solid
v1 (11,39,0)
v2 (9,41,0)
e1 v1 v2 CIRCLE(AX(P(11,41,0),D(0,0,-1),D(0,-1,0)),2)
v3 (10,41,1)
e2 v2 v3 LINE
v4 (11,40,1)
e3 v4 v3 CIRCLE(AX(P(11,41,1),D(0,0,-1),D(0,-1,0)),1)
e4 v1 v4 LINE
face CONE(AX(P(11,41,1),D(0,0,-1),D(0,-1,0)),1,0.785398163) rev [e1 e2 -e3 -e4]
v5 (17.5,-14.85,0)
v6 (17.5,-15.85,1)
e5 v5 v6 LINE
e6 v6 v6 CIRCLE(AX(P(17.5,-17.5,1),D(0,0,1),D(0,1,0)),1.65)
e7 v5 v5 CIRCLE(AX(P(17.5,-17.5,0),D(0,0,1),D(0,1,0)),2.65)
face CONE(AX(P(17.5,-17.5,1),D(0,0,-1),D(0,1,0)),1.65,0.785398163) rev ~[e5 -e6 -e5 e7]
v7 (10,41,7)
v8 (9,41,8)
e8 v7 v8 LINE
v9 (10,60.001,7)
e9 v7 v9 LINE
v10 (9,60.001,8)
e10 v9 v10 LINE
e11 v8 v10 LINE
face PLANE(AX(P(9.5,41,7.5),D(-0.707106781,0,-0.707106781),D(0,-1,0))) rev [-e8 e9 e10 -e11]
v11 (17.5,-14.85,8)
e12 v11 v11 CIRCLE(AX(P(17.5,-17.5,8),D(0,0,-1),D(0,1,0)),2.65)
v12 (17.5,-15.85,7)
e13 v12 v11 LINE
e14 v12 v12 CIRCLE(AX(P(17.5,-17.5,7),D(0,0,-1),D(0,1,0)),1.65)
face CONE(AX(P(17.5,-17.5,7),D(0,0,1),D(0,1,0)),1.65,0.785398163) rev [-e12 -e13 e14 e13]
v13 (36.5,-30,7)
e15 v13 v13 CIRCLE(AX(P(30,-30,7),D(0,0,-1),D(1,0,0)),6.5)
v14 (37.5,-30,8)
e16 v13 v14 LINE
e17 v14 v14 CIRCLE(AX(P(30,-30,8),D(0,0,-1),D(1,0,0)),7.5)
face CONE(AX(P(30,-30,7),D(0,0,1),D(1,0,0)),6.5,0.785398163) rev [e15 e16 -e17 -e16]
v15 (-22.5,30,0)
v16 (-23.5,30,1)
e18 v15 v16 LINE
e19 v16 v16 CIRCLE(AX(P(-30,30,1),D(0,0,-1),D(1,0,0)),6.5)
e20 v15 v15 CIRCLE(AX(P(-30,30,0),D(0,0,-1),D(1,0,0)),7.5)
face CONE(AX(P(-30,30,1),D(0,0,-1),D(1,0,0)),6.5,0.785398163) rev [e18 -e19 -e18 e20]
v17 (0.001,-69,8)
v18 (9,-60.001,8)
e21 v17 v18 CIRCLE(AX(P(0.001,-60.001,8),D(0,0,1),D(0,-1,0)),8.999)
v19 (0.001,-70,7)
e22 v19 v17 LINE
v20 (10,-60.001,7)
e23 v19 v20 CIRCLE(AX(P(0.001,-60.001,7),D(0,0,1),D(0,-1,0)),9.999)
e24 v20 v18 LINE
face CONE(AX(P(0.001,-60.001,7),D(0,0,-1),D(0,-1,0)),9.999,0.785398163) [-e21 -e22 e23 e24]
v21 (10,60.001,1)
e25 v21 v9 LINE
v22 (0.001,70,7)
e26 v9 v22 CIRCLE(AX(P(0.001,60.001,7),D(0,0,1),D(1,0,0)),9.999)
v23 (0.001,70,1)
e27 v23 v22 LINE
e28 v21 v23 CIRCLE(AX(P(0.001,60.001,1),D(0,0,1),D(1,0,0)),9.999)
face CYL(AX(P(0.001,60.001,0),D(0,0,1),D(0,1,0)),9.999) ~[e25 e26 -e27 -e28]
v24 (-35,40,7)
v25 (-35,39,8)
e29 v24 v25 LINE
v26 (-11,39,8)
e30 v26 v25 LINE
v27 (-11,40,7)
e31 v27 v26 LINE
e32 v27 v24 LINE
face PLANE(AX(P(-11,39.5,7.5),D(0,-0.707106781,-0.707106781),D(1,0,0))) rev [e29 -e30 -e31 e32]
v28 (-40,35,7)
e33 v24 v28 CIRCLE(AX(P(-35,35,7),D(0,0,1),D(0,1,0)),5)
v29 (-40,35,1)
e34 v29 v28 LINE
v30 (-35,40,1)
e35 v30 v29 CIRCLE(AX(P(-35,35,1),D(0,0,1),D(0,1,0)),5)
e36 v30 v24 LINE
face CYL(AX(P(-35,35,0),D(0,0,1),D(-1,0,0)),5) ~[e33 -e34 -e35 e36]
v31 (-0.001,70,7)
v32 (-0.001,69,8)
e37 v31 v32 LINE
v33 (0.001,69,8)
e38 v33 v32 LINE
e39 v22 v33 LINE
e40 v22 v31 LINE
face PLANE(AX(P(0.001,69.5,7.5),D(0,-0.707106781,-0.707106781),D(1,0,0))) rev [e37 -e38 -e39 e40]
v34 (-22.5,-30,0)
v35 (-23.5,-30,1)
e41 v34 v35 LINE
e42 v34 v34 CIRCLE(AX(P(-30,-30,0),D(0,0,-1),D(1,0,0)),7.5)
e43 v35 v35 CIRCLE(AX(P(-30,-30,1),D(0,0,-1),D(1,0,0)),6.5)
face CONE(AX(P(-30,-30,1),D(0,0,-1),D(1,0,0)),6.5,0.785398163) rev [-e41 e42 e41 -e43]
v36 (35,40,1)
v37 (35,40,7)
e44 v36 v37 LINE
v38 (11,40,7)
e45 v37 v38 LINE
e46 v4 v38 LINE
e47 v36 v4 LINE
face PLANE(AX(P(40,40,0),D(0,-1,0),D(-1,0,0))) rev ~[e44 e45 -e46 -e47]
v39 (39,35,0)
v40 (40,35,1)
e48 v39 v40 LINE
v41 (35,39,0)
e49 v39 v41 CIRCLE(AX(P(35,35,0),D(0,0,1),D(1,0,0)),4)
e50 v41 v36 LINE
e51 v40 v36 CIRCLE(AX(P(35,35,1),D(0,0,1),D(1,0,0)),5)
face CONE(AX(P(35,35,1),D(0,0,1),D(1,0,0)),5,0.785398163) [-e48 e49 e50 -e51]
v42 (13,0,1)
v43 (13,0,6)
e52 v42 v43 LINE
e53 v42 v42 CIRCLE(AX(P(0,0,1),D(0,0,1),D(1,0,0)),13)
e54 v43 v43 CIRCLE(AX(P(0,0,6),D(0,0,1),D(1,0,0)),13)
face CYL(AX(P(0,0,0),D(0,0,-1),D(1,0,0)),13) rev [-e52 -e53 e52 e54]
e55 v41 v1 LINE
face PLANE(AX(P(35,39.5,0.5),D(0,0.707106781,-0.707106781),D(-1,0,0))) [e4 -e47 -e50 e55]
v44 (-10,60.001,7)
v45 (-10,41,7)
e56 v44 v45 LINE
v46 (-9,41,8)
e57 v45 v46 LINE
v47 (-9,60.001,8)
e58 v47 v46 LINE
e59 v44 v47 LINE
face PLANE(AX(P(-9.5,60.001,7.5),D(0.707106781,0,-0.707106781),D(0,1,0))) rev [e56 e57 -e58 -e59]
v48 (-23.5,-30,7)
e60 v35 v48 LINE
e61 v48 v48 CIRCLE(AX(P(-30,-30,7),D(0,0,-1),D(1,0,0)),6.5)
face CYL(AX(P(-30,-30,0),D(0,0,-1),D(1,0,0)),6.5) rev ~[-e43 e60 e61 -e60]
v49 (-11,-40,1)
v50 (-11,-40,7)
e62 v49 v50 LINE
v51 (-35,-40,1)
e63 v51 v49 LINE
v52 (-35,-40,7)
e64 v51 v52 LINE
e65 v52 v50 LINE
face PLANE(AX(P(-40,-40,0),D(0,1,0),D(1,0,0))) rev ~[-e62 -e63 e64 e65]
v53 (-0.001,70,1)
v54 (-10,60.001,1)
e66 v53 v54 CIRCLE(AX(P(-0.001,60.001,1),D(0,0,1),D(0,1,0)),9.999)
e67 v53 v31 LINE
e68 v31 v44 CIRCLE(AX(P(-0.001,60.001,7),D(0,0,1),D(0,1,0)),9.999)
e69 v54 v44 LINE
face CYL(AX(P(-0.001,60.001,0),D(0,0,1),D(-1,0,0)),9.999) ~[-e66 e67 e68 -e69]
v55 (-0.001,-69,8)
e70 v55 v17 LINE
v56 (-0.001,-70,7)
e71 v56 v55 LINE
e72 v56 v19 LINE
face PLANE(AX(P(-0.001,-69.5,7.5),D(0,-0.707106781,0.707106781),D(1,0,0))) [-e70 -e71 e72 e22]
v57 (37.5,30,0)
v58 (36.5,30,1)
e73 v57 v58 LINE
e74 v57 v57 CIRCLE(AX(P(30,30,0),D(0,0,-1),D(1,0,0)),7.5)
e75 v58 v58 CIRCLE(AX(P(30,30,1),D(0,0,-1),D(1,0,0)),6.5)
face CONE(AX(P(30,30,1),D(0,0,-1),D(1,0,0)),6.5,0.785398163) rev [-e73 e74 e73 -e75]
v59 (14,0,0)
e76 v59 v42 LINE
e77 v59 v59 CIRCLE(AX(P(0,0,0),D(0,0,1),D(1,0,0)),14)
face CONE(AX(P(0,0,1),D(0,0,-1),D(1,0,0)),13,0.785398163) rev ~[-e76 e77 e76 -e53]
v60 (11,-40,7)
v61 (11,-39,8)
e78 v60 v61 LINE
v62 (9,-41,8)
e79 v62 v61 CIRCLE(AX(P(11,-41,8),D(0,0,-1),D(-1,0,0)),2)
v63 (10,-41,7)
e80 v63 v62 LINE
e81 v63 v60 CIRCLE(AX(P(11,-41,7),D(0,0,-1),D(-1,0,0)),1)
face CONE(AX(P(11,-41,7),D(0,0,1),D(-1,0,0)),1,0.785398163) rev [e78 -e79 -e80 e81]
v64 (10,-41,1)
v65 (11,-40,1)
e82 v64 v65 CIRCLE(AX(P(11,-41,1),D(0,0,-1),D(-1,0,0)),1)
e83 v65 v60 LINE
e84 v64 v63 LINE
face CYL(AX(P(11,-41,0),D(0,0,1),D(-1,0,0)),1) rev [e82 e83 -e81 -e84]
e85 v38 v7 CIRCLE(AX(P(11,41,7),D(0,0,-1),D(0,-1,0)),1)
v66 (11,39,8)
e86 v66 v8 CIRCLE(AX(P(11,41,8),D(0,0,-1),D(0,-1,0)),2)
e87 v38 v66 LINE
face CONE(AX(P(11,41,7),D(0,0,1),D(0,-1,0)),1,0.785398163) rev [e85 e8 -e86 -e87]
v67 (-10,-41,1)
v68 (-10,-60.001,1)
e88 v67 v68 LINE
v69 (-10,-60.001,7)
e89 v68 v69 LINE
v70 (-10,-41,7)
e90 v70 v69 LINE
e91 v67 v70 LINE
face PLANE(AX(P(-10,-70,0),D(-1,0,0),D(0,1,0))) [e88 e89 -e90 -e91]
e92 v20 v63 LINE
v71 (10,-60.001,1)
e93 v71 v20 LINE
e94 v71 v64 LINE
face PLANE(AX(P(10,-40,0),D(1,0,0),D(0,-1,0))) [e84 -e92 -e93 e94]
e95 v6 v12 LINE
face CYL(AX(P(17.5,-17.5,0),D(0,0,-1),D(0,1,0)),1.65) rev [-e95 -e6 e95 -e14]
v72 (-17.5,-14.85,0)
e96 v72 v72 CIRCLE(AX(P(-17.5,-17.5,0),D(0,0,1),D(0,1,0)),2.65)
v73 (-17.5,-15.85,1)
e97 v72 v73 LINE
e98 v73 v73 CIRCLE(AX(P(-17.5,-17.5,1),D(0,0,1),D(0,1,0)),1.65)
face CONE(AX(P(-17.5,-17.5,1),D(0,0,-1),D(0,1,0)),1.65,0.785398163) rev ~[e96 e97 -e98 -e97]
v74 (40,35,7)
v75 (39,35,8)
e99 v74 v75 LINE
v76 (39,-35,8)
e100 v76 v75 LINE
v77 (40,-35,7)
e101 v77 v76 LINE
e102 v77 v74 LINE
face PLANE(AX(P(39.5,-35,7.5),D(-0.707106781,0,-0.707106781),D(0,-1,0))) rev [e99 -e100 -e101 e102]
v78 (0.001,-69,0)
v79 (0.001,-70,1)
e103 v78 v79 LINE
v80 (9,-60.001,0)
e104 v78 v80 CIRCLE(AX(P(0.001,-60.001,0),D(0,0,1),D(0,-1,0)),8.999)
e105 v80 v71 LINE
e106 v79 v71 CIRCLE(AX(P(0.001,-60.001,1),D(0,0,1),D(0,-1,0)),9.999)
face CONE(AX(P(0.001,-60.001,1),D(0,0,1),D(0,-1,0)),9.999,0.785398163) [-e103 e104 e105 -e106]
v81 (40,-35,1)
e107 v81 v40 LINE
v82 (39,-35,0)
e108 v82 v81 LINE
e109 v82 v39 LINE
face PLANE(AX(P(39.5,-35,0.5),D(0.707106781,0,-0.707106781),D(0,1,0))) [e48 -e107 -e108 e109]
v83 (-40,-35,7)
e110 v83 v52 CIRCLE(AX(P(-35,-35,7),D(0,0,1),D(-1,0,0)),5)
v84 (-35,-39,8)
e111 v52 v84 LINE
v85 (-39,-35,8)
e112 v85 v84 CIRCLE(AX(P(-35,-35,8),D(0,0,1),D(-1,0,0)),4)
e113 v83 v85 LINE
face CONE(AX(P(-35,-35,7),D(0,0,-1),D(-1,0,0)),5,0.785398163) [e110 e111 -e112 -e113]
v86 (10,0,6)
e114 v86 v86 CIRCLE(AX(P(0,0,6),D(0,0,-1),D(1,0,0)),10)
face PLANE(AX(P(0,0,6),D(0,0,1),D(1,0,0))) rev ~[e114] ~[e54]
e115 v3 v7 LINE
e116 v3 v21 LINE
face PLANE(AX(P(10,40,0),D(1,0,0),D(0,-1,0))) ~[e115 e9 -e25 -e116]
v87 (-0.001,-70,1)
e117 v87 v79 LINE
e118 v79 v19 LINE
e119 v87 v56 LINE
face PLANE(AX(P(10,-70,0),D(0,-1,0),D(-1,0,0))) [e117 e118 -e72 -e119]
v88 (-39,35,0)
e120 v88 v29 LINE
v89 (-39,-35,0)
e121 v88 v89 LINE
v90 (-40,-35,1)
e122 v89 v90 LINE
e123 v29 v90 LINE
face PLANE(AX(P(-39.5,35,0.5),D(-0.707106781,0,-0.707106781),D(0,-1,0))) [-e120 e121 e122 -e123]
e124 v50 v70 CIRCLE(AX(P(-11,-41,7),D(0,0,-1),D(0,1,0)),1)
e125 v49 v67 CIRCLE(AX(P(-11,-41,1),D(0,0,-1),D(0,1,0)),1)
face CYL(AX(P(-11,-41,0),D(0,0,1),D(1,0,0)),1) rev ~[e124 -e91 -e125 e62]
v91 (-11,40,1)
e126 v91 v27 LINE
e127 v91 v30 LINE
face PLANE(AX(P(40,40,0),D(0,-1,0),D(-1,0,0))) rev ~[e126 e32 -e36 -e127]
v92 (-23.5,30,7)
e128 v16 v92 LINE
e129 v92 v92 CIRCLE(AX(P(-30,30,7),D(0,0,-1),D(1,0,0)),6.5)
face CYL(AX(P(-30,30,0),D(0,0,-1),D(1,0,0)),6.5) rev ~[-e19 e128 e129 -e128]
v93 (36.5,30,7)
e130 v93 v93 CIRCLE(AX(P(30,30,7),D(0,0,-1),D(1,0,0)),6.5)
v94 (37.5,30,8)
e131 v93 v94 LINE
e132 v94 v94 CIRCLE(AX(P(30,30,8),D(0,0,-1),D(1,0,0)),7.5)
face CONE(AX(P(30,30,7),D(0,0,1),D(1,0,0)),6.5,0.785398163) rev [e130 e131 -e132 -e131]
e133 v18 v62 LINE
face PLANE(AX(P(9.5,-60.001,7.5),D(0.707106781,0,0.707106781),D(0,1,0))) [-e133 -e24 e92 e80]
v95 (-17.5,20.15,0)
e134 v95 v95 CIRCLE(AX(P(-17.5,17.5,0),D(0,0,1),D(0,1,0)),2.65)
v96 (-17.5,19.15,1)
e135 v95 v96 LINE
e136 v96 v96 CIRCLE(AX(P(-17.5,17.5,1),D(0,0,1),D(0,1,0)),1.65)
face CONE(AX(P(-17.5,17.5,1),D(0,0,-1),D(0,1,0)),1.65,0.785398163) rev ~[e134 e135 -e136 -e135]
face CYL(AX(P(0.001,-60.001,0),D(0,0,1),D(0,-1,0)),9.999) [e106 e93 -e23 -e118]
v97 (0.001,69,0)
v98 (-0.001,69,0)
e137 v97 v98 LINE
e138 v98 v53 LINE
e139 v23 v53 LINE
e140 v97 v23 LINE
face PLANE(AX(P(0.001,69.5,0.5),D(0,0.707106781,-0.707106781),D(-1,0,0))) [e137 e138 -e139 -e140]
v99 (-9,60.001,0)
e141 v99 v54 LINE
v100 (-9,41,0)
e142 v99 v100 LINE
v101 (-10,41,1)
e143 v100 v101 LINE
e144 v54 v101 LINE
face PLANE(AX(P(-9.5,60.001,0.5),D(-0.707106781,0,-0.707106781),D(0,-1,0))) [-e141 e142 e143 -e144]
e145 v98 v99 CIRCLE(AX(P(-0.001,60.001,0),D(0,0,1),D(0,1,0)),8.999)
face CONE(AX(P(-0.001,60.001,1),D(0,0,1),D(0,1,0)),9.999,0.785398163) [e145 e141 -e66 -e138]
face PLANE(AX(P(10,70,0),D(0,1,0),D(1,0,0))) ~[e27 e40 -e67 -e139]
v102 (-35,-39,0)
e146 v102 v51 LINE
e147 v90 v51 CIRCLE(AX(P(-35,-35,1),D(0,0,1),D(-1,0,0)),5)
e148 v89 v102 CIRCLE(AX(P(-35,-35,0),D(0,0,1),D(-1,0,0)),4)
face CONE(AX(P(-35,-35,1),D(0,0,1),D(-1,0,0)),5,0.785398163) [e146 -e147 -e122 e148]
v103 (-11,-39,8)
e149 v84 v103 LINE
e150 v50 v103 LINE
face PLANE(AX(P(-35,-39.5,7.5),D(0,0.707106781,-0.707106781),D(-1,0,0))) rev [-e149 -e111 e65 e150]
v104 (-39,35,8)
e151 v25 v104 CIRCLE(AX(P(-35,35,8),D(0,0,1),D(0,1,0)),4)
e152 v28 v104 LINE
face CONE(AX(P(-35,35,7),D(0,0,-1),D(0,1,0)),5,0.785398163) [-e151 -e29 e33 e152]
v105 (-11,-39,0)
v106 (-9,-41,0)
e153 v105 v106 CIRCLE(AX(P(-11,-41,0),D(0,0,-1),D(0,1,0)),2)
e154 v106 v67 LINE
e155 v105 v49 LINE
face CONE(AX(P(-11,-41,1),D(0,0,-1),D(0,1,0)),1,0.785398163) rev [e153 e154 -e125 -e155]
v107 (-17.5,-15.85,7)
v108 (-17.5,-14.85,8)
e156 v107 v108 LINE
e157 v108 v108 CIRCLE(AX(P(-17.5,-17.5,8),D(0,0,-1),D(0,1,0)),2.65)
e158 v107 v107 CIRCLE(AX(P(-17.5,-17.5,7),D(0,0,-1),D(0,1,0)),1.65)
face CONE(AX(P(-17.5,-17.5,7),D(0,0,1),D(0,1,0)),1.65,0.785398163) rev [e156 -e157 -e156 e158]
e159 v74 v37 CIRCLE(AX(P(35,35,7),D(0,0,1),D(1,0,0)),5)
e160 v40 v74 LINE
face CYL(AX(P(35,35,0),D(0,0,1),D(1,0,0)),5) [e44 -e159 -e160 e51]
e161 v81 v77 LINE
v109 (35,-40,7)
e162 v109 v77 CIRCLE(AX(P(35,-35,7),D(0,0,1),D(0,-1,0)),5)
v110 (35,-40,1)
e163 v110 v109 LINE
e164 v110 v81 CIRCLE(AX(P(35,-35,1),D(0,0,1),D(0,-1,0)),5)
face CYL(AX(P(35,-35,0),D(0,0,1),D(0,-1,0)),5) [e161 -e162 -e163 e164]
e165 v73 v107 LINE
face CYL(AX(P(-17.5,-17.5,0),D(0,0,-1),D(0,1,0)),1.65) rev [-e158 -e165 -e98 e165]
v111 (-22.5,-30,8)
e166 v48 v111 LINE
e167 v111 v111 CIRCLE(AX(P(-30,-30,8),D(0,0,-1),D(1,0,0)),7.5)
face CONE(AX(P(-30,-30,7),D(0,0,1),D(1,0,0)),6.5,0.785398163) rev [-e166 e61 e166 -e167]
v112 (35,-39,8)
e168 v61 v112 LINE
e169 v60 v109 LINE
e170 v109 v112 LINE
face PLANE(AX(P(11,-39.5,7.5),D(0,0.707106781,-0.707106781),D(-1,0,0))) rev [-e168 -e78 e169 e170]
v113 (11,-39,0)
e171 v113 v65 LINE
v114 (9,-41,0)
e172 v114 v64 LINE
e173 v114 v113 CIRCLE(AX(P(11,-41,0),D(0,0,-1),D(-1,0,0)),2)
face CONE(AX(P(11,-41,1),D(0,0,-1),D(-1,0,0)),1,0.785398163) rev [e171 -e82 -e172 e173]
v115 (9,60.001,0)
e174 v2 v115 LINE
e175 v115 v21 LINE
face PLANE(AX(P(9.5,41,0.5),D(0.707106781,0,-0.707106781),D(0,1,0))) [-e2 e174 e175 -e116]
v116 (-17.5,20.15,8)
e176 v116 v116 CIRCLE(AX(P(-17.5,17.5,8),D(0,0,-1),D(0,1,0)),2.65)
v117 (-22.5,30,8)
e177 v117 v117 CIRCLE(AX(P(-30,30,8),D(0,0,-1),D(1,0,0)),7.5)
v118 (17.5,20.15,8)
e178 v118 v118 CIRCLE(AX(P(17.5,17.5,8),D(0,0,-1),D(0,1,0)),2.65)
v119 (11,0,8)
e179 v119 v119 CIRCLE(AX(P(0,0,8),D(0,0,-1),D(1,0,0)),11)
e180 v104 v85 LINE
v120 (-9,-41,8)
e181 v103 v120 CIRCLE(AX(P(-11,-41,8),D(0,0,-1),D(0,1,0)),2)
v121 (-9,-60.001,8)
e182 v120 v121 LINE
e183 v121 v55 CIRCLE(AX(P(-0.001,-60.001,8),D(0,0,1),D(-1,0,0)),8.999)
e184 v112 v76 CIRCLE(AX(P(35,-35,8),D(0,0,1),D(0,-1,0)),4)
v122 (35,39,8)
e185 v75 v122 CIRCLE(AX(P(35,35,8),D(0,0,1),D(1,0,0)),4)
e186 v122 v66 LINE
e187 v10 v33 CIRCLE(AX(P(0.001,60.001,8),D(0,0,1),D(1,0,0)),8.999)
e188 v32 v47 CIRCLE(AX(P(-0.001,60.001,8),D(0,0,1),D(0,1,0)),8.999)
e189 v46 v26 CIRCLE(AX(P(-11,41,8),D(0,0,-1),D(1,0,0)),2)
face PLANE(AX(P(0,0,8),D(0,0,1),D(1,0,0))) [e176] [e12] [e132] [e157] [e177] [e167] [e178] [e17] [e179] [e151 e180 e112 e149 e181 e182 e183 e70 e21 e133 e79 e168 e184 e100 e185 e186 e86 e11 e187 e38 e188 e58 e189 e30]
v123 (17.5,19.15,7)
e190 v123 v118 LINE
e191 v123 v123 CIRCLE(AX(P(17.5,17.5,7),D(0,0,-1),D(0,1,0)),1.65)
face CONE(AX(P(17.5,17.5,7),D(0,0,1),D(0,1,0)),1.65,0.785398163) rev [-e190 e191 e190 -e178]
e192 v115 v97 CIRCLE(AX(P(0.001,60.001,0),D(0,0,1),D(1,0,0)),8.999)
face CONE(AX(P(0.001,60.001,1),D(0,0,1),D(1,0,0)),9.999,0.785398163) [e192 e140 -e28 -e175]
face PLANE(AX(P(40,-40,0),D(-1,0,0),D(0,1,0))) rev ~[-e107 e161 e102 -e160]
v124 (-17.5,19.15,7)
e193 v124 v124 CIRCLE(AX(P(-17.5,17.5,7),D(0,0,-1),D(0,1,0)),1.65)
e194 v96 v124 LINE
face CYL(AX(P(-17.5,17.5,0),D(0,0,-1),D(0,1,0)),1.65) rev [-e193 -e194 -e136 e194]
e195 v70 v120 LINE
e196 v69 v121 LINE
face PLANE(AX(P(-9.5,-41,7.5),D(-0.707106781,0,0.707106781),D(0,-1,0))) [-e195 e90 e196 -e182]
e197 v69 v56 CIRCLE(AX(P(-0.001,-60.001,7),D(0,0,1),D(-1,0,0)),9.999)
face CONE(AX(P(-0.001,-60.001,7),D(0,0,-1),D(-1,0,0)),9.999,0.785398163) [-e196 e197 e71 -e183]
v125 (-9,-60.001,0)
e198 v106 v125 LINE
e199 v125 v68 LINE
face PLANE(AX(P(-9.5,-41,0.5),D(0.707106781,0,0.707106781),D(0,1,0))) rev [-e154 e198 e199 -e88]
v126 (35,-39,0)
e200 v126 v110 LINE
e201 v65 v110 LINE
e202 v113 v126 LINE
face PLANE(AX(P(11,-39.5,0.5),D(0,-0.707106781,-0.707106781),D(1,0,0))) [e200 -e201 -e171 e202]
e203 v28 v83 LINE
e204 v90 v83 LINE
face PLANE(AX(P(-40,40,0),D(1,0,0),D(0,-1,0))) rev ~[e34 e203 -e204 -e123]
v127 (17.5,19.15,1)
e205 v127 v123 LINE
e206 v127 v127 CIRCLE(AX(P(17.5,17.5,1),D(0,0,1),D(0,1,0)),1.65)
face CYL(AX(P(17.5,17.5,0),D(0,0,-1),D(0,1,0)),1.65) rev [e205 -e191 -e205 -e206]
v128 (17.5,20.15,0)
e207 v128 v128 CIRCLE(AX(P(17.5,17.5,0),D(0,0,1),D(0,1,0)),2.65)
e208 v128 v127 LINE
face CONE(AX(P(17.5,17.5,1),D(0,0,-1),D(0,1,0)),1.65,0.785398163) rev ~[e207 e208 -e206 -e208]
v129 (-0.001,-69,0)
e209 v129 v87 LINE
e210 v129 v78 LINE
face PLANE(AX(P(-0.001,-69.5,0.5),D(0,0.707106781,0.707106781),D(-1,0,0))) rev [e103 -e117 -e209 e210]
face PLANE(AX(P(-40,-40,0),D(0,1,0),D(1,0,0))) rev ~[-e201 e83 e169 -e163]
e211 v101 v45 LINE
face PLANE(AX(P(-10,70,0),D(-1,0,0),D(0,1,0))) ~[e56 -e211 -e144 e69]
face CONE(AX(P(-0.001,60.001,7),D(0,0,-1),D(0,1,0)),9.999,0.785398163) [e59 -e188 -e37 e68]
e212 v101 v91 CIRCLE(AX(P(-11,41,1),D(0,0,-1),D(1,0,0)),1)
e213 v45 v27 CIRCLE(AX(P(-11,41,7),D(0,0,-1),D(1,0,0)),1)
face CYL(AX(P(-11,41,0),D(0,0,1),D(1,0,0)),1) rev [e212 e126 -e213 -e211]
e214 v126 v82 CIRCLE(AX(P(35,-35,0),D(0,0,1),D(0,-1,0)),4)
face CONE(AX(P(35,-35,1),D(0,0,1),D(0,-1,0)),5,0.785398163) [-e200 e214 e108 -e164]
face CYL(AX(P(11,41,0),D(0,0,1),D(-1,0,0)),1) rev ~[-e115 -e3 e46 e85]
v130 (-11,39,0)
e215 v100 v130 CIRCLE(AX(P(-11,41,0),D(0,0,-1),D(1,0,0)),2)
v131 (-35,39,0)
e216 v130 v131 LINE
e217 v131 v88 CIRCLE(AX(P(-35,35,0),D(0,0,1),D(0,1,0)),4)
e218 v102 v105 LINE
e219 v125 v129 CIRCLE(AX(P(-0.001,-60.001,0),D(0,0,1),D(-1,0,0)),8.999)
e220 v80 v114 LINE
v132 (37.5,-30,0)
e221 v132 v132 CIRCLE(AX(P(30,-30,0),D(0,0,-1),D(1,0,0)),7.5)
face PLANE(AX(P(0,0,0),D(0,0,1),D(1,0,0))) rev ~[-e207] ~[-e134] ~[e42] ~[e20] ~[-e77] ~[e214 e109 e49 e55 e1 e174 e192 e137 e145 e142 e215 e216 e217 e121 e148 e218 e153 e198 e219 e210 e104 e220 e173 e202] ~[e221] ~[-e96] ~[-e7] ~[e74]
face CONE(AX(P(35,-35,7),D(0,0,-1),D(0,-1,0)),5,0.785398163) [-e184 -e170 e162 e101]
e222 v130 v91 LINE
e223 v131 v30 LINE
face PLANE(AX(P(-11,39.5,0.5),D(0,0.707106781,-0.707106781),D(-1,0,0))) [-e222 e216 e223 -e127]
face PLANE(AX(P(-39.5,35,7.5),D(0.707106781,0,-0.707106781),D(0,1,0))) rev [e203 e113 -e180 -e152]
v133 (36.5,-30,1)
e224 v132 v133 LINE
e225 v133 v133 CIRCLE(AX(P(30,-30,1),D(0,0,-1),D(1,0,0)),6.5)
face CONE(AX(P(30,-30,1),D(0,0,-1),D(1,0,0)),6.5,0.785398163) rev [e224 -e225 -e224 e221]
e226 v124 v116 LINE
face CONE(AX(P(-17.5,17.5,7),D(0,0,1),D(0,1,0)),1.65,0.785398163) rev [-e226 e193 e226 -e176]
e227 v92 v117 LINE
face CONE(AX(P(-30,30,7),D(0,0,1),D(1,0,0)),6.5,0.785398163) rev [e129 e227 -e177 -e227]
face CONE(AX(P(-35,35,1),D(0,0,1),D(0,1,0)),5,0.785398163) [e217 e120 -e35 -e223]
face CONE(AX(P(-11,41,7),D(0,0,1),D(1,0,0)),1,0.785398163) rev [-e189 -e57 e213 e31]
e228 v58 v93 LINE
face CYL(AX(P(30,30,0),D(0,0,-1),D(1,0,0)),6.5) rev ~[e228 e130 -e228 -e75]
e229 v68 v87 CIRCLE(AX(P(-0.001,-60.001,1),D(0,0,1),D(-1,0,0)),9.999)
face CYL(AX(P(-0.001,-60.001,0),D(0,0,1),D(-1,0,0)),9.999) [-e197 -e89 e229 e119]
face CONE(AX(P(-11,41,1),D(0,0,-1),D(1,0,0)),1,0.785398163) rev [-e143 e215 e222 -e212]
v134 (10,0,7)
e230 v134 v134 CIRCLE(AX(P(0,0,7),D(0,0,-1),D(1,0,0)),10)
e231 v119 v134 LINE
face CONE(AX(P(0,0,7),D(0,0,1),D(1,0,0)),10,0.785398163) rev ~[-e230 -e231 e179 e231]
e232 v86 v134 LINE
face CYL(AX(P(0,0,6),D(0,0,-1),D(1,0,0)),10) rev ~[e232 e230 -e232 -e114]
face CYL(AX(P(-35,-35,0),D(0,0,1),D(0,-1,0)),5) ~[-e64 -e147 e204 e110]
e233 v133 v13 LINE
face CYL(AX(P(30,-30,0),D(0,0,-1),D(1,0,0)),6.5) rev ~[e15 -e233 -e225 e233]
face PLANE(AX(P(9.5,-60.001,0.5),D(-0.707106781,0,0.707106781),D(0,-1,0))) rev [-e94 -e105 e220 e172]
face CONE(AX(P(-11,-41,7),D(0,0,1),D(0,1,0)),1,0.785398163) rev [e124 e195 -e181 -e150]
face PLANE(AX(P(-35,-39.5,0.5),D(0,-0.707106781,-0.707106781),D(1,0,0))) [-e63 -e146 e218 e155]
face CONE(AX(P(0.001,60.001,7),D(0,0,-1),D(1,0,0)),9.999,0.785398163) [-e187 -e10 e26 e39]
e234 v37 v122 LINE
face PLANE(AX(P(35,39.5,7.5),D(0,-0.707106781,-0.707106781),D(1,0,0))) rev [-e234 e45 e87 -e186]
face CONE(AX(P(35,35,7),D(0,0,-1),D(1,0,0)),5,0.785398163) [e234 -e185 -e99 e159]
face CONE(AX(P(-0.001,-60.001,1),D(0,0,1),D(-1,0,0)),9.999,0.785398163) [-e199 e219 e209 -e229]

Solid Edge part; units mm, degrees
sketch "Sketch1" plane through (0, 0, 0) normal (0, 0, 1) x (1, 0, 0)
  line L0 (-40, -40) -> (40, -40)
  line L1 (40, -40) -> (40, 40)
  line L2 (40, 40) -> (-40, 40)
  line L3 (-40, 40) -> (-40, -40)
extrude "Extrusionsausprägung_20" add sketch "Sketch1" along normal blind 8
sketch "Sketch2" plane through (0, 0, 0) normal (0, 0, 1) x (1, 0, 0)
  circle A0 centre (0, 0) radius 13
extrude "Extrusionsausschnitt_24" cut sketch "Sketch2" along normal blind 6
sketch "Sketch3" plane through (0, 0, 6) normal (0, 0, -1) x (1, 0, 0)
  circle A0 centre (0, 0) radius 10
extrude "Extrusionsausschnitt_25" cut sketch "Sketch3" against normal blind 140
sketch "Sketch4" plane through (0, 0, 0) normal (0, 0, -1) x (1, 0, 0)
  circle A0 centre (-30, 30) radius 6.5
  circle A1 centre (30, 30) radius 6.5
  circle A2 centre (30, -30) radius 6.5
  circle A3 centre (-30, -30) radius 6.5
extrude "Extrusionsausschnitt_26" cut sketch "Sketch4" against normal blind 59
sketch "Sketch5" plane through (0, 0, 0) normal (0, 0, -1) x (1, 0, 0)
  line L0 (10, 70) -> (-10, 70)
  line L1 (-10, 70) -> (-10, 40)
  line L2 (-10, 40) -> (10, 40)
  line L3 (10, 40) -> (10, 70)
extrude "Protrusion1" add sketch "Sketch5" against normal up to vertex (8 mm away)
fillet "Verrundung_15" radius 10 2 edges at (10, -70, 4) (-10, -70, 4)
fillet "Verrundung_16" radius 1 2 edges at (10, -40, 4) (-10, -40, 4)
mirror "Mirror1" about plane through (0, 0, 0) normal (0, -1, 0) of "Protrusion1", "Verrundung_15", "Verrundung_16"
hole "Bohrung_4" at (-17.5, -17.5, 0) direction (0, 0, 1) diameter 3.3 end up to next
hole "Hole1" at (17.5, -17.5, 0) direction (0, 0, 1) diameter 3.3 end up to next
hole "Hole2" at (17.5, 17.5, 0) direction (0, 0, 1) diameter 3.3 end up to next
hole "Hole3" at (-17.5, 17.5, 0) direction (0, 0, 1) diameter 3.3 end up to next
fillet "Verrundung_17" radius 5 4 edges at (-40, -40, 4) (40, -40, 4) (-40, 40, 4) (40, 40, 4)
chamfer "Fase_9" distance 1 angle 45 29 edges at (-17.5, 19.15, 0) (17.5, 19.15, 0) (17.5, -15.85, 0) (-17.5, -15.85, 0) (-36.5, -30, 0) (23.5, -30, 0) (23.5, 30, 0) (-36.5, 30, 0) (-13, 0, 0) (23, 40, 0) (38.5355, 38.5355, 0) (40, 0, 0) (38.5355, -38.5355, 0) (23, -40, 0) (10.2929, -40.2929, 0) (10, -50.5, 0) (0, -70, 0) (-10, -50.5, 0) (-10.2929, -40.2929, 0) (-23, -40, 0) (-38.5355, -38.5355, 0) (-40, 0, 0) (-38.5355, 38.5355, 0) (-23, 40, 0) (-10.2929, 40.2929, 0) (-10, 50.5, 0) (0, 70, 0) (10, 50.5, 0) (10.2929, 40.2929, 0)
chamfer "Fase_10" distance 1 angle 45 29 edges at (-19.15, 17.5, 8) (15.85, 17.5, 8) (15.85, -17.5, 8) (-19.15, -17.5, 8) (-36.5, -30, 8) (23.5, -30, 8) (23.5, 30, 8) (-36.5, 30, 8) (-10, 0, 8) (40, 0, 8) (38.5355, 38.5355, 8) (23, 40, 8) (10.2929, 40.2929, 8) (10, 50.5, 8) (0, 70, 8) (-10, 50.5, 8) (-10.2929, 40.2929, 8) (-23, 40, 8) (-38.5355, 38.5355, 8) (-40, 0, 8) (-38.5355, -38.5355, 8) (-23, -40, 8) (-10.2929, -40.2929, 8) (-10, -50.5, 8) (0, -70, 8) (10, -50.5, 8) (10.2929, -40.2929, 8) (23, -40, 8) (38.5355, -38.5355, 8)
